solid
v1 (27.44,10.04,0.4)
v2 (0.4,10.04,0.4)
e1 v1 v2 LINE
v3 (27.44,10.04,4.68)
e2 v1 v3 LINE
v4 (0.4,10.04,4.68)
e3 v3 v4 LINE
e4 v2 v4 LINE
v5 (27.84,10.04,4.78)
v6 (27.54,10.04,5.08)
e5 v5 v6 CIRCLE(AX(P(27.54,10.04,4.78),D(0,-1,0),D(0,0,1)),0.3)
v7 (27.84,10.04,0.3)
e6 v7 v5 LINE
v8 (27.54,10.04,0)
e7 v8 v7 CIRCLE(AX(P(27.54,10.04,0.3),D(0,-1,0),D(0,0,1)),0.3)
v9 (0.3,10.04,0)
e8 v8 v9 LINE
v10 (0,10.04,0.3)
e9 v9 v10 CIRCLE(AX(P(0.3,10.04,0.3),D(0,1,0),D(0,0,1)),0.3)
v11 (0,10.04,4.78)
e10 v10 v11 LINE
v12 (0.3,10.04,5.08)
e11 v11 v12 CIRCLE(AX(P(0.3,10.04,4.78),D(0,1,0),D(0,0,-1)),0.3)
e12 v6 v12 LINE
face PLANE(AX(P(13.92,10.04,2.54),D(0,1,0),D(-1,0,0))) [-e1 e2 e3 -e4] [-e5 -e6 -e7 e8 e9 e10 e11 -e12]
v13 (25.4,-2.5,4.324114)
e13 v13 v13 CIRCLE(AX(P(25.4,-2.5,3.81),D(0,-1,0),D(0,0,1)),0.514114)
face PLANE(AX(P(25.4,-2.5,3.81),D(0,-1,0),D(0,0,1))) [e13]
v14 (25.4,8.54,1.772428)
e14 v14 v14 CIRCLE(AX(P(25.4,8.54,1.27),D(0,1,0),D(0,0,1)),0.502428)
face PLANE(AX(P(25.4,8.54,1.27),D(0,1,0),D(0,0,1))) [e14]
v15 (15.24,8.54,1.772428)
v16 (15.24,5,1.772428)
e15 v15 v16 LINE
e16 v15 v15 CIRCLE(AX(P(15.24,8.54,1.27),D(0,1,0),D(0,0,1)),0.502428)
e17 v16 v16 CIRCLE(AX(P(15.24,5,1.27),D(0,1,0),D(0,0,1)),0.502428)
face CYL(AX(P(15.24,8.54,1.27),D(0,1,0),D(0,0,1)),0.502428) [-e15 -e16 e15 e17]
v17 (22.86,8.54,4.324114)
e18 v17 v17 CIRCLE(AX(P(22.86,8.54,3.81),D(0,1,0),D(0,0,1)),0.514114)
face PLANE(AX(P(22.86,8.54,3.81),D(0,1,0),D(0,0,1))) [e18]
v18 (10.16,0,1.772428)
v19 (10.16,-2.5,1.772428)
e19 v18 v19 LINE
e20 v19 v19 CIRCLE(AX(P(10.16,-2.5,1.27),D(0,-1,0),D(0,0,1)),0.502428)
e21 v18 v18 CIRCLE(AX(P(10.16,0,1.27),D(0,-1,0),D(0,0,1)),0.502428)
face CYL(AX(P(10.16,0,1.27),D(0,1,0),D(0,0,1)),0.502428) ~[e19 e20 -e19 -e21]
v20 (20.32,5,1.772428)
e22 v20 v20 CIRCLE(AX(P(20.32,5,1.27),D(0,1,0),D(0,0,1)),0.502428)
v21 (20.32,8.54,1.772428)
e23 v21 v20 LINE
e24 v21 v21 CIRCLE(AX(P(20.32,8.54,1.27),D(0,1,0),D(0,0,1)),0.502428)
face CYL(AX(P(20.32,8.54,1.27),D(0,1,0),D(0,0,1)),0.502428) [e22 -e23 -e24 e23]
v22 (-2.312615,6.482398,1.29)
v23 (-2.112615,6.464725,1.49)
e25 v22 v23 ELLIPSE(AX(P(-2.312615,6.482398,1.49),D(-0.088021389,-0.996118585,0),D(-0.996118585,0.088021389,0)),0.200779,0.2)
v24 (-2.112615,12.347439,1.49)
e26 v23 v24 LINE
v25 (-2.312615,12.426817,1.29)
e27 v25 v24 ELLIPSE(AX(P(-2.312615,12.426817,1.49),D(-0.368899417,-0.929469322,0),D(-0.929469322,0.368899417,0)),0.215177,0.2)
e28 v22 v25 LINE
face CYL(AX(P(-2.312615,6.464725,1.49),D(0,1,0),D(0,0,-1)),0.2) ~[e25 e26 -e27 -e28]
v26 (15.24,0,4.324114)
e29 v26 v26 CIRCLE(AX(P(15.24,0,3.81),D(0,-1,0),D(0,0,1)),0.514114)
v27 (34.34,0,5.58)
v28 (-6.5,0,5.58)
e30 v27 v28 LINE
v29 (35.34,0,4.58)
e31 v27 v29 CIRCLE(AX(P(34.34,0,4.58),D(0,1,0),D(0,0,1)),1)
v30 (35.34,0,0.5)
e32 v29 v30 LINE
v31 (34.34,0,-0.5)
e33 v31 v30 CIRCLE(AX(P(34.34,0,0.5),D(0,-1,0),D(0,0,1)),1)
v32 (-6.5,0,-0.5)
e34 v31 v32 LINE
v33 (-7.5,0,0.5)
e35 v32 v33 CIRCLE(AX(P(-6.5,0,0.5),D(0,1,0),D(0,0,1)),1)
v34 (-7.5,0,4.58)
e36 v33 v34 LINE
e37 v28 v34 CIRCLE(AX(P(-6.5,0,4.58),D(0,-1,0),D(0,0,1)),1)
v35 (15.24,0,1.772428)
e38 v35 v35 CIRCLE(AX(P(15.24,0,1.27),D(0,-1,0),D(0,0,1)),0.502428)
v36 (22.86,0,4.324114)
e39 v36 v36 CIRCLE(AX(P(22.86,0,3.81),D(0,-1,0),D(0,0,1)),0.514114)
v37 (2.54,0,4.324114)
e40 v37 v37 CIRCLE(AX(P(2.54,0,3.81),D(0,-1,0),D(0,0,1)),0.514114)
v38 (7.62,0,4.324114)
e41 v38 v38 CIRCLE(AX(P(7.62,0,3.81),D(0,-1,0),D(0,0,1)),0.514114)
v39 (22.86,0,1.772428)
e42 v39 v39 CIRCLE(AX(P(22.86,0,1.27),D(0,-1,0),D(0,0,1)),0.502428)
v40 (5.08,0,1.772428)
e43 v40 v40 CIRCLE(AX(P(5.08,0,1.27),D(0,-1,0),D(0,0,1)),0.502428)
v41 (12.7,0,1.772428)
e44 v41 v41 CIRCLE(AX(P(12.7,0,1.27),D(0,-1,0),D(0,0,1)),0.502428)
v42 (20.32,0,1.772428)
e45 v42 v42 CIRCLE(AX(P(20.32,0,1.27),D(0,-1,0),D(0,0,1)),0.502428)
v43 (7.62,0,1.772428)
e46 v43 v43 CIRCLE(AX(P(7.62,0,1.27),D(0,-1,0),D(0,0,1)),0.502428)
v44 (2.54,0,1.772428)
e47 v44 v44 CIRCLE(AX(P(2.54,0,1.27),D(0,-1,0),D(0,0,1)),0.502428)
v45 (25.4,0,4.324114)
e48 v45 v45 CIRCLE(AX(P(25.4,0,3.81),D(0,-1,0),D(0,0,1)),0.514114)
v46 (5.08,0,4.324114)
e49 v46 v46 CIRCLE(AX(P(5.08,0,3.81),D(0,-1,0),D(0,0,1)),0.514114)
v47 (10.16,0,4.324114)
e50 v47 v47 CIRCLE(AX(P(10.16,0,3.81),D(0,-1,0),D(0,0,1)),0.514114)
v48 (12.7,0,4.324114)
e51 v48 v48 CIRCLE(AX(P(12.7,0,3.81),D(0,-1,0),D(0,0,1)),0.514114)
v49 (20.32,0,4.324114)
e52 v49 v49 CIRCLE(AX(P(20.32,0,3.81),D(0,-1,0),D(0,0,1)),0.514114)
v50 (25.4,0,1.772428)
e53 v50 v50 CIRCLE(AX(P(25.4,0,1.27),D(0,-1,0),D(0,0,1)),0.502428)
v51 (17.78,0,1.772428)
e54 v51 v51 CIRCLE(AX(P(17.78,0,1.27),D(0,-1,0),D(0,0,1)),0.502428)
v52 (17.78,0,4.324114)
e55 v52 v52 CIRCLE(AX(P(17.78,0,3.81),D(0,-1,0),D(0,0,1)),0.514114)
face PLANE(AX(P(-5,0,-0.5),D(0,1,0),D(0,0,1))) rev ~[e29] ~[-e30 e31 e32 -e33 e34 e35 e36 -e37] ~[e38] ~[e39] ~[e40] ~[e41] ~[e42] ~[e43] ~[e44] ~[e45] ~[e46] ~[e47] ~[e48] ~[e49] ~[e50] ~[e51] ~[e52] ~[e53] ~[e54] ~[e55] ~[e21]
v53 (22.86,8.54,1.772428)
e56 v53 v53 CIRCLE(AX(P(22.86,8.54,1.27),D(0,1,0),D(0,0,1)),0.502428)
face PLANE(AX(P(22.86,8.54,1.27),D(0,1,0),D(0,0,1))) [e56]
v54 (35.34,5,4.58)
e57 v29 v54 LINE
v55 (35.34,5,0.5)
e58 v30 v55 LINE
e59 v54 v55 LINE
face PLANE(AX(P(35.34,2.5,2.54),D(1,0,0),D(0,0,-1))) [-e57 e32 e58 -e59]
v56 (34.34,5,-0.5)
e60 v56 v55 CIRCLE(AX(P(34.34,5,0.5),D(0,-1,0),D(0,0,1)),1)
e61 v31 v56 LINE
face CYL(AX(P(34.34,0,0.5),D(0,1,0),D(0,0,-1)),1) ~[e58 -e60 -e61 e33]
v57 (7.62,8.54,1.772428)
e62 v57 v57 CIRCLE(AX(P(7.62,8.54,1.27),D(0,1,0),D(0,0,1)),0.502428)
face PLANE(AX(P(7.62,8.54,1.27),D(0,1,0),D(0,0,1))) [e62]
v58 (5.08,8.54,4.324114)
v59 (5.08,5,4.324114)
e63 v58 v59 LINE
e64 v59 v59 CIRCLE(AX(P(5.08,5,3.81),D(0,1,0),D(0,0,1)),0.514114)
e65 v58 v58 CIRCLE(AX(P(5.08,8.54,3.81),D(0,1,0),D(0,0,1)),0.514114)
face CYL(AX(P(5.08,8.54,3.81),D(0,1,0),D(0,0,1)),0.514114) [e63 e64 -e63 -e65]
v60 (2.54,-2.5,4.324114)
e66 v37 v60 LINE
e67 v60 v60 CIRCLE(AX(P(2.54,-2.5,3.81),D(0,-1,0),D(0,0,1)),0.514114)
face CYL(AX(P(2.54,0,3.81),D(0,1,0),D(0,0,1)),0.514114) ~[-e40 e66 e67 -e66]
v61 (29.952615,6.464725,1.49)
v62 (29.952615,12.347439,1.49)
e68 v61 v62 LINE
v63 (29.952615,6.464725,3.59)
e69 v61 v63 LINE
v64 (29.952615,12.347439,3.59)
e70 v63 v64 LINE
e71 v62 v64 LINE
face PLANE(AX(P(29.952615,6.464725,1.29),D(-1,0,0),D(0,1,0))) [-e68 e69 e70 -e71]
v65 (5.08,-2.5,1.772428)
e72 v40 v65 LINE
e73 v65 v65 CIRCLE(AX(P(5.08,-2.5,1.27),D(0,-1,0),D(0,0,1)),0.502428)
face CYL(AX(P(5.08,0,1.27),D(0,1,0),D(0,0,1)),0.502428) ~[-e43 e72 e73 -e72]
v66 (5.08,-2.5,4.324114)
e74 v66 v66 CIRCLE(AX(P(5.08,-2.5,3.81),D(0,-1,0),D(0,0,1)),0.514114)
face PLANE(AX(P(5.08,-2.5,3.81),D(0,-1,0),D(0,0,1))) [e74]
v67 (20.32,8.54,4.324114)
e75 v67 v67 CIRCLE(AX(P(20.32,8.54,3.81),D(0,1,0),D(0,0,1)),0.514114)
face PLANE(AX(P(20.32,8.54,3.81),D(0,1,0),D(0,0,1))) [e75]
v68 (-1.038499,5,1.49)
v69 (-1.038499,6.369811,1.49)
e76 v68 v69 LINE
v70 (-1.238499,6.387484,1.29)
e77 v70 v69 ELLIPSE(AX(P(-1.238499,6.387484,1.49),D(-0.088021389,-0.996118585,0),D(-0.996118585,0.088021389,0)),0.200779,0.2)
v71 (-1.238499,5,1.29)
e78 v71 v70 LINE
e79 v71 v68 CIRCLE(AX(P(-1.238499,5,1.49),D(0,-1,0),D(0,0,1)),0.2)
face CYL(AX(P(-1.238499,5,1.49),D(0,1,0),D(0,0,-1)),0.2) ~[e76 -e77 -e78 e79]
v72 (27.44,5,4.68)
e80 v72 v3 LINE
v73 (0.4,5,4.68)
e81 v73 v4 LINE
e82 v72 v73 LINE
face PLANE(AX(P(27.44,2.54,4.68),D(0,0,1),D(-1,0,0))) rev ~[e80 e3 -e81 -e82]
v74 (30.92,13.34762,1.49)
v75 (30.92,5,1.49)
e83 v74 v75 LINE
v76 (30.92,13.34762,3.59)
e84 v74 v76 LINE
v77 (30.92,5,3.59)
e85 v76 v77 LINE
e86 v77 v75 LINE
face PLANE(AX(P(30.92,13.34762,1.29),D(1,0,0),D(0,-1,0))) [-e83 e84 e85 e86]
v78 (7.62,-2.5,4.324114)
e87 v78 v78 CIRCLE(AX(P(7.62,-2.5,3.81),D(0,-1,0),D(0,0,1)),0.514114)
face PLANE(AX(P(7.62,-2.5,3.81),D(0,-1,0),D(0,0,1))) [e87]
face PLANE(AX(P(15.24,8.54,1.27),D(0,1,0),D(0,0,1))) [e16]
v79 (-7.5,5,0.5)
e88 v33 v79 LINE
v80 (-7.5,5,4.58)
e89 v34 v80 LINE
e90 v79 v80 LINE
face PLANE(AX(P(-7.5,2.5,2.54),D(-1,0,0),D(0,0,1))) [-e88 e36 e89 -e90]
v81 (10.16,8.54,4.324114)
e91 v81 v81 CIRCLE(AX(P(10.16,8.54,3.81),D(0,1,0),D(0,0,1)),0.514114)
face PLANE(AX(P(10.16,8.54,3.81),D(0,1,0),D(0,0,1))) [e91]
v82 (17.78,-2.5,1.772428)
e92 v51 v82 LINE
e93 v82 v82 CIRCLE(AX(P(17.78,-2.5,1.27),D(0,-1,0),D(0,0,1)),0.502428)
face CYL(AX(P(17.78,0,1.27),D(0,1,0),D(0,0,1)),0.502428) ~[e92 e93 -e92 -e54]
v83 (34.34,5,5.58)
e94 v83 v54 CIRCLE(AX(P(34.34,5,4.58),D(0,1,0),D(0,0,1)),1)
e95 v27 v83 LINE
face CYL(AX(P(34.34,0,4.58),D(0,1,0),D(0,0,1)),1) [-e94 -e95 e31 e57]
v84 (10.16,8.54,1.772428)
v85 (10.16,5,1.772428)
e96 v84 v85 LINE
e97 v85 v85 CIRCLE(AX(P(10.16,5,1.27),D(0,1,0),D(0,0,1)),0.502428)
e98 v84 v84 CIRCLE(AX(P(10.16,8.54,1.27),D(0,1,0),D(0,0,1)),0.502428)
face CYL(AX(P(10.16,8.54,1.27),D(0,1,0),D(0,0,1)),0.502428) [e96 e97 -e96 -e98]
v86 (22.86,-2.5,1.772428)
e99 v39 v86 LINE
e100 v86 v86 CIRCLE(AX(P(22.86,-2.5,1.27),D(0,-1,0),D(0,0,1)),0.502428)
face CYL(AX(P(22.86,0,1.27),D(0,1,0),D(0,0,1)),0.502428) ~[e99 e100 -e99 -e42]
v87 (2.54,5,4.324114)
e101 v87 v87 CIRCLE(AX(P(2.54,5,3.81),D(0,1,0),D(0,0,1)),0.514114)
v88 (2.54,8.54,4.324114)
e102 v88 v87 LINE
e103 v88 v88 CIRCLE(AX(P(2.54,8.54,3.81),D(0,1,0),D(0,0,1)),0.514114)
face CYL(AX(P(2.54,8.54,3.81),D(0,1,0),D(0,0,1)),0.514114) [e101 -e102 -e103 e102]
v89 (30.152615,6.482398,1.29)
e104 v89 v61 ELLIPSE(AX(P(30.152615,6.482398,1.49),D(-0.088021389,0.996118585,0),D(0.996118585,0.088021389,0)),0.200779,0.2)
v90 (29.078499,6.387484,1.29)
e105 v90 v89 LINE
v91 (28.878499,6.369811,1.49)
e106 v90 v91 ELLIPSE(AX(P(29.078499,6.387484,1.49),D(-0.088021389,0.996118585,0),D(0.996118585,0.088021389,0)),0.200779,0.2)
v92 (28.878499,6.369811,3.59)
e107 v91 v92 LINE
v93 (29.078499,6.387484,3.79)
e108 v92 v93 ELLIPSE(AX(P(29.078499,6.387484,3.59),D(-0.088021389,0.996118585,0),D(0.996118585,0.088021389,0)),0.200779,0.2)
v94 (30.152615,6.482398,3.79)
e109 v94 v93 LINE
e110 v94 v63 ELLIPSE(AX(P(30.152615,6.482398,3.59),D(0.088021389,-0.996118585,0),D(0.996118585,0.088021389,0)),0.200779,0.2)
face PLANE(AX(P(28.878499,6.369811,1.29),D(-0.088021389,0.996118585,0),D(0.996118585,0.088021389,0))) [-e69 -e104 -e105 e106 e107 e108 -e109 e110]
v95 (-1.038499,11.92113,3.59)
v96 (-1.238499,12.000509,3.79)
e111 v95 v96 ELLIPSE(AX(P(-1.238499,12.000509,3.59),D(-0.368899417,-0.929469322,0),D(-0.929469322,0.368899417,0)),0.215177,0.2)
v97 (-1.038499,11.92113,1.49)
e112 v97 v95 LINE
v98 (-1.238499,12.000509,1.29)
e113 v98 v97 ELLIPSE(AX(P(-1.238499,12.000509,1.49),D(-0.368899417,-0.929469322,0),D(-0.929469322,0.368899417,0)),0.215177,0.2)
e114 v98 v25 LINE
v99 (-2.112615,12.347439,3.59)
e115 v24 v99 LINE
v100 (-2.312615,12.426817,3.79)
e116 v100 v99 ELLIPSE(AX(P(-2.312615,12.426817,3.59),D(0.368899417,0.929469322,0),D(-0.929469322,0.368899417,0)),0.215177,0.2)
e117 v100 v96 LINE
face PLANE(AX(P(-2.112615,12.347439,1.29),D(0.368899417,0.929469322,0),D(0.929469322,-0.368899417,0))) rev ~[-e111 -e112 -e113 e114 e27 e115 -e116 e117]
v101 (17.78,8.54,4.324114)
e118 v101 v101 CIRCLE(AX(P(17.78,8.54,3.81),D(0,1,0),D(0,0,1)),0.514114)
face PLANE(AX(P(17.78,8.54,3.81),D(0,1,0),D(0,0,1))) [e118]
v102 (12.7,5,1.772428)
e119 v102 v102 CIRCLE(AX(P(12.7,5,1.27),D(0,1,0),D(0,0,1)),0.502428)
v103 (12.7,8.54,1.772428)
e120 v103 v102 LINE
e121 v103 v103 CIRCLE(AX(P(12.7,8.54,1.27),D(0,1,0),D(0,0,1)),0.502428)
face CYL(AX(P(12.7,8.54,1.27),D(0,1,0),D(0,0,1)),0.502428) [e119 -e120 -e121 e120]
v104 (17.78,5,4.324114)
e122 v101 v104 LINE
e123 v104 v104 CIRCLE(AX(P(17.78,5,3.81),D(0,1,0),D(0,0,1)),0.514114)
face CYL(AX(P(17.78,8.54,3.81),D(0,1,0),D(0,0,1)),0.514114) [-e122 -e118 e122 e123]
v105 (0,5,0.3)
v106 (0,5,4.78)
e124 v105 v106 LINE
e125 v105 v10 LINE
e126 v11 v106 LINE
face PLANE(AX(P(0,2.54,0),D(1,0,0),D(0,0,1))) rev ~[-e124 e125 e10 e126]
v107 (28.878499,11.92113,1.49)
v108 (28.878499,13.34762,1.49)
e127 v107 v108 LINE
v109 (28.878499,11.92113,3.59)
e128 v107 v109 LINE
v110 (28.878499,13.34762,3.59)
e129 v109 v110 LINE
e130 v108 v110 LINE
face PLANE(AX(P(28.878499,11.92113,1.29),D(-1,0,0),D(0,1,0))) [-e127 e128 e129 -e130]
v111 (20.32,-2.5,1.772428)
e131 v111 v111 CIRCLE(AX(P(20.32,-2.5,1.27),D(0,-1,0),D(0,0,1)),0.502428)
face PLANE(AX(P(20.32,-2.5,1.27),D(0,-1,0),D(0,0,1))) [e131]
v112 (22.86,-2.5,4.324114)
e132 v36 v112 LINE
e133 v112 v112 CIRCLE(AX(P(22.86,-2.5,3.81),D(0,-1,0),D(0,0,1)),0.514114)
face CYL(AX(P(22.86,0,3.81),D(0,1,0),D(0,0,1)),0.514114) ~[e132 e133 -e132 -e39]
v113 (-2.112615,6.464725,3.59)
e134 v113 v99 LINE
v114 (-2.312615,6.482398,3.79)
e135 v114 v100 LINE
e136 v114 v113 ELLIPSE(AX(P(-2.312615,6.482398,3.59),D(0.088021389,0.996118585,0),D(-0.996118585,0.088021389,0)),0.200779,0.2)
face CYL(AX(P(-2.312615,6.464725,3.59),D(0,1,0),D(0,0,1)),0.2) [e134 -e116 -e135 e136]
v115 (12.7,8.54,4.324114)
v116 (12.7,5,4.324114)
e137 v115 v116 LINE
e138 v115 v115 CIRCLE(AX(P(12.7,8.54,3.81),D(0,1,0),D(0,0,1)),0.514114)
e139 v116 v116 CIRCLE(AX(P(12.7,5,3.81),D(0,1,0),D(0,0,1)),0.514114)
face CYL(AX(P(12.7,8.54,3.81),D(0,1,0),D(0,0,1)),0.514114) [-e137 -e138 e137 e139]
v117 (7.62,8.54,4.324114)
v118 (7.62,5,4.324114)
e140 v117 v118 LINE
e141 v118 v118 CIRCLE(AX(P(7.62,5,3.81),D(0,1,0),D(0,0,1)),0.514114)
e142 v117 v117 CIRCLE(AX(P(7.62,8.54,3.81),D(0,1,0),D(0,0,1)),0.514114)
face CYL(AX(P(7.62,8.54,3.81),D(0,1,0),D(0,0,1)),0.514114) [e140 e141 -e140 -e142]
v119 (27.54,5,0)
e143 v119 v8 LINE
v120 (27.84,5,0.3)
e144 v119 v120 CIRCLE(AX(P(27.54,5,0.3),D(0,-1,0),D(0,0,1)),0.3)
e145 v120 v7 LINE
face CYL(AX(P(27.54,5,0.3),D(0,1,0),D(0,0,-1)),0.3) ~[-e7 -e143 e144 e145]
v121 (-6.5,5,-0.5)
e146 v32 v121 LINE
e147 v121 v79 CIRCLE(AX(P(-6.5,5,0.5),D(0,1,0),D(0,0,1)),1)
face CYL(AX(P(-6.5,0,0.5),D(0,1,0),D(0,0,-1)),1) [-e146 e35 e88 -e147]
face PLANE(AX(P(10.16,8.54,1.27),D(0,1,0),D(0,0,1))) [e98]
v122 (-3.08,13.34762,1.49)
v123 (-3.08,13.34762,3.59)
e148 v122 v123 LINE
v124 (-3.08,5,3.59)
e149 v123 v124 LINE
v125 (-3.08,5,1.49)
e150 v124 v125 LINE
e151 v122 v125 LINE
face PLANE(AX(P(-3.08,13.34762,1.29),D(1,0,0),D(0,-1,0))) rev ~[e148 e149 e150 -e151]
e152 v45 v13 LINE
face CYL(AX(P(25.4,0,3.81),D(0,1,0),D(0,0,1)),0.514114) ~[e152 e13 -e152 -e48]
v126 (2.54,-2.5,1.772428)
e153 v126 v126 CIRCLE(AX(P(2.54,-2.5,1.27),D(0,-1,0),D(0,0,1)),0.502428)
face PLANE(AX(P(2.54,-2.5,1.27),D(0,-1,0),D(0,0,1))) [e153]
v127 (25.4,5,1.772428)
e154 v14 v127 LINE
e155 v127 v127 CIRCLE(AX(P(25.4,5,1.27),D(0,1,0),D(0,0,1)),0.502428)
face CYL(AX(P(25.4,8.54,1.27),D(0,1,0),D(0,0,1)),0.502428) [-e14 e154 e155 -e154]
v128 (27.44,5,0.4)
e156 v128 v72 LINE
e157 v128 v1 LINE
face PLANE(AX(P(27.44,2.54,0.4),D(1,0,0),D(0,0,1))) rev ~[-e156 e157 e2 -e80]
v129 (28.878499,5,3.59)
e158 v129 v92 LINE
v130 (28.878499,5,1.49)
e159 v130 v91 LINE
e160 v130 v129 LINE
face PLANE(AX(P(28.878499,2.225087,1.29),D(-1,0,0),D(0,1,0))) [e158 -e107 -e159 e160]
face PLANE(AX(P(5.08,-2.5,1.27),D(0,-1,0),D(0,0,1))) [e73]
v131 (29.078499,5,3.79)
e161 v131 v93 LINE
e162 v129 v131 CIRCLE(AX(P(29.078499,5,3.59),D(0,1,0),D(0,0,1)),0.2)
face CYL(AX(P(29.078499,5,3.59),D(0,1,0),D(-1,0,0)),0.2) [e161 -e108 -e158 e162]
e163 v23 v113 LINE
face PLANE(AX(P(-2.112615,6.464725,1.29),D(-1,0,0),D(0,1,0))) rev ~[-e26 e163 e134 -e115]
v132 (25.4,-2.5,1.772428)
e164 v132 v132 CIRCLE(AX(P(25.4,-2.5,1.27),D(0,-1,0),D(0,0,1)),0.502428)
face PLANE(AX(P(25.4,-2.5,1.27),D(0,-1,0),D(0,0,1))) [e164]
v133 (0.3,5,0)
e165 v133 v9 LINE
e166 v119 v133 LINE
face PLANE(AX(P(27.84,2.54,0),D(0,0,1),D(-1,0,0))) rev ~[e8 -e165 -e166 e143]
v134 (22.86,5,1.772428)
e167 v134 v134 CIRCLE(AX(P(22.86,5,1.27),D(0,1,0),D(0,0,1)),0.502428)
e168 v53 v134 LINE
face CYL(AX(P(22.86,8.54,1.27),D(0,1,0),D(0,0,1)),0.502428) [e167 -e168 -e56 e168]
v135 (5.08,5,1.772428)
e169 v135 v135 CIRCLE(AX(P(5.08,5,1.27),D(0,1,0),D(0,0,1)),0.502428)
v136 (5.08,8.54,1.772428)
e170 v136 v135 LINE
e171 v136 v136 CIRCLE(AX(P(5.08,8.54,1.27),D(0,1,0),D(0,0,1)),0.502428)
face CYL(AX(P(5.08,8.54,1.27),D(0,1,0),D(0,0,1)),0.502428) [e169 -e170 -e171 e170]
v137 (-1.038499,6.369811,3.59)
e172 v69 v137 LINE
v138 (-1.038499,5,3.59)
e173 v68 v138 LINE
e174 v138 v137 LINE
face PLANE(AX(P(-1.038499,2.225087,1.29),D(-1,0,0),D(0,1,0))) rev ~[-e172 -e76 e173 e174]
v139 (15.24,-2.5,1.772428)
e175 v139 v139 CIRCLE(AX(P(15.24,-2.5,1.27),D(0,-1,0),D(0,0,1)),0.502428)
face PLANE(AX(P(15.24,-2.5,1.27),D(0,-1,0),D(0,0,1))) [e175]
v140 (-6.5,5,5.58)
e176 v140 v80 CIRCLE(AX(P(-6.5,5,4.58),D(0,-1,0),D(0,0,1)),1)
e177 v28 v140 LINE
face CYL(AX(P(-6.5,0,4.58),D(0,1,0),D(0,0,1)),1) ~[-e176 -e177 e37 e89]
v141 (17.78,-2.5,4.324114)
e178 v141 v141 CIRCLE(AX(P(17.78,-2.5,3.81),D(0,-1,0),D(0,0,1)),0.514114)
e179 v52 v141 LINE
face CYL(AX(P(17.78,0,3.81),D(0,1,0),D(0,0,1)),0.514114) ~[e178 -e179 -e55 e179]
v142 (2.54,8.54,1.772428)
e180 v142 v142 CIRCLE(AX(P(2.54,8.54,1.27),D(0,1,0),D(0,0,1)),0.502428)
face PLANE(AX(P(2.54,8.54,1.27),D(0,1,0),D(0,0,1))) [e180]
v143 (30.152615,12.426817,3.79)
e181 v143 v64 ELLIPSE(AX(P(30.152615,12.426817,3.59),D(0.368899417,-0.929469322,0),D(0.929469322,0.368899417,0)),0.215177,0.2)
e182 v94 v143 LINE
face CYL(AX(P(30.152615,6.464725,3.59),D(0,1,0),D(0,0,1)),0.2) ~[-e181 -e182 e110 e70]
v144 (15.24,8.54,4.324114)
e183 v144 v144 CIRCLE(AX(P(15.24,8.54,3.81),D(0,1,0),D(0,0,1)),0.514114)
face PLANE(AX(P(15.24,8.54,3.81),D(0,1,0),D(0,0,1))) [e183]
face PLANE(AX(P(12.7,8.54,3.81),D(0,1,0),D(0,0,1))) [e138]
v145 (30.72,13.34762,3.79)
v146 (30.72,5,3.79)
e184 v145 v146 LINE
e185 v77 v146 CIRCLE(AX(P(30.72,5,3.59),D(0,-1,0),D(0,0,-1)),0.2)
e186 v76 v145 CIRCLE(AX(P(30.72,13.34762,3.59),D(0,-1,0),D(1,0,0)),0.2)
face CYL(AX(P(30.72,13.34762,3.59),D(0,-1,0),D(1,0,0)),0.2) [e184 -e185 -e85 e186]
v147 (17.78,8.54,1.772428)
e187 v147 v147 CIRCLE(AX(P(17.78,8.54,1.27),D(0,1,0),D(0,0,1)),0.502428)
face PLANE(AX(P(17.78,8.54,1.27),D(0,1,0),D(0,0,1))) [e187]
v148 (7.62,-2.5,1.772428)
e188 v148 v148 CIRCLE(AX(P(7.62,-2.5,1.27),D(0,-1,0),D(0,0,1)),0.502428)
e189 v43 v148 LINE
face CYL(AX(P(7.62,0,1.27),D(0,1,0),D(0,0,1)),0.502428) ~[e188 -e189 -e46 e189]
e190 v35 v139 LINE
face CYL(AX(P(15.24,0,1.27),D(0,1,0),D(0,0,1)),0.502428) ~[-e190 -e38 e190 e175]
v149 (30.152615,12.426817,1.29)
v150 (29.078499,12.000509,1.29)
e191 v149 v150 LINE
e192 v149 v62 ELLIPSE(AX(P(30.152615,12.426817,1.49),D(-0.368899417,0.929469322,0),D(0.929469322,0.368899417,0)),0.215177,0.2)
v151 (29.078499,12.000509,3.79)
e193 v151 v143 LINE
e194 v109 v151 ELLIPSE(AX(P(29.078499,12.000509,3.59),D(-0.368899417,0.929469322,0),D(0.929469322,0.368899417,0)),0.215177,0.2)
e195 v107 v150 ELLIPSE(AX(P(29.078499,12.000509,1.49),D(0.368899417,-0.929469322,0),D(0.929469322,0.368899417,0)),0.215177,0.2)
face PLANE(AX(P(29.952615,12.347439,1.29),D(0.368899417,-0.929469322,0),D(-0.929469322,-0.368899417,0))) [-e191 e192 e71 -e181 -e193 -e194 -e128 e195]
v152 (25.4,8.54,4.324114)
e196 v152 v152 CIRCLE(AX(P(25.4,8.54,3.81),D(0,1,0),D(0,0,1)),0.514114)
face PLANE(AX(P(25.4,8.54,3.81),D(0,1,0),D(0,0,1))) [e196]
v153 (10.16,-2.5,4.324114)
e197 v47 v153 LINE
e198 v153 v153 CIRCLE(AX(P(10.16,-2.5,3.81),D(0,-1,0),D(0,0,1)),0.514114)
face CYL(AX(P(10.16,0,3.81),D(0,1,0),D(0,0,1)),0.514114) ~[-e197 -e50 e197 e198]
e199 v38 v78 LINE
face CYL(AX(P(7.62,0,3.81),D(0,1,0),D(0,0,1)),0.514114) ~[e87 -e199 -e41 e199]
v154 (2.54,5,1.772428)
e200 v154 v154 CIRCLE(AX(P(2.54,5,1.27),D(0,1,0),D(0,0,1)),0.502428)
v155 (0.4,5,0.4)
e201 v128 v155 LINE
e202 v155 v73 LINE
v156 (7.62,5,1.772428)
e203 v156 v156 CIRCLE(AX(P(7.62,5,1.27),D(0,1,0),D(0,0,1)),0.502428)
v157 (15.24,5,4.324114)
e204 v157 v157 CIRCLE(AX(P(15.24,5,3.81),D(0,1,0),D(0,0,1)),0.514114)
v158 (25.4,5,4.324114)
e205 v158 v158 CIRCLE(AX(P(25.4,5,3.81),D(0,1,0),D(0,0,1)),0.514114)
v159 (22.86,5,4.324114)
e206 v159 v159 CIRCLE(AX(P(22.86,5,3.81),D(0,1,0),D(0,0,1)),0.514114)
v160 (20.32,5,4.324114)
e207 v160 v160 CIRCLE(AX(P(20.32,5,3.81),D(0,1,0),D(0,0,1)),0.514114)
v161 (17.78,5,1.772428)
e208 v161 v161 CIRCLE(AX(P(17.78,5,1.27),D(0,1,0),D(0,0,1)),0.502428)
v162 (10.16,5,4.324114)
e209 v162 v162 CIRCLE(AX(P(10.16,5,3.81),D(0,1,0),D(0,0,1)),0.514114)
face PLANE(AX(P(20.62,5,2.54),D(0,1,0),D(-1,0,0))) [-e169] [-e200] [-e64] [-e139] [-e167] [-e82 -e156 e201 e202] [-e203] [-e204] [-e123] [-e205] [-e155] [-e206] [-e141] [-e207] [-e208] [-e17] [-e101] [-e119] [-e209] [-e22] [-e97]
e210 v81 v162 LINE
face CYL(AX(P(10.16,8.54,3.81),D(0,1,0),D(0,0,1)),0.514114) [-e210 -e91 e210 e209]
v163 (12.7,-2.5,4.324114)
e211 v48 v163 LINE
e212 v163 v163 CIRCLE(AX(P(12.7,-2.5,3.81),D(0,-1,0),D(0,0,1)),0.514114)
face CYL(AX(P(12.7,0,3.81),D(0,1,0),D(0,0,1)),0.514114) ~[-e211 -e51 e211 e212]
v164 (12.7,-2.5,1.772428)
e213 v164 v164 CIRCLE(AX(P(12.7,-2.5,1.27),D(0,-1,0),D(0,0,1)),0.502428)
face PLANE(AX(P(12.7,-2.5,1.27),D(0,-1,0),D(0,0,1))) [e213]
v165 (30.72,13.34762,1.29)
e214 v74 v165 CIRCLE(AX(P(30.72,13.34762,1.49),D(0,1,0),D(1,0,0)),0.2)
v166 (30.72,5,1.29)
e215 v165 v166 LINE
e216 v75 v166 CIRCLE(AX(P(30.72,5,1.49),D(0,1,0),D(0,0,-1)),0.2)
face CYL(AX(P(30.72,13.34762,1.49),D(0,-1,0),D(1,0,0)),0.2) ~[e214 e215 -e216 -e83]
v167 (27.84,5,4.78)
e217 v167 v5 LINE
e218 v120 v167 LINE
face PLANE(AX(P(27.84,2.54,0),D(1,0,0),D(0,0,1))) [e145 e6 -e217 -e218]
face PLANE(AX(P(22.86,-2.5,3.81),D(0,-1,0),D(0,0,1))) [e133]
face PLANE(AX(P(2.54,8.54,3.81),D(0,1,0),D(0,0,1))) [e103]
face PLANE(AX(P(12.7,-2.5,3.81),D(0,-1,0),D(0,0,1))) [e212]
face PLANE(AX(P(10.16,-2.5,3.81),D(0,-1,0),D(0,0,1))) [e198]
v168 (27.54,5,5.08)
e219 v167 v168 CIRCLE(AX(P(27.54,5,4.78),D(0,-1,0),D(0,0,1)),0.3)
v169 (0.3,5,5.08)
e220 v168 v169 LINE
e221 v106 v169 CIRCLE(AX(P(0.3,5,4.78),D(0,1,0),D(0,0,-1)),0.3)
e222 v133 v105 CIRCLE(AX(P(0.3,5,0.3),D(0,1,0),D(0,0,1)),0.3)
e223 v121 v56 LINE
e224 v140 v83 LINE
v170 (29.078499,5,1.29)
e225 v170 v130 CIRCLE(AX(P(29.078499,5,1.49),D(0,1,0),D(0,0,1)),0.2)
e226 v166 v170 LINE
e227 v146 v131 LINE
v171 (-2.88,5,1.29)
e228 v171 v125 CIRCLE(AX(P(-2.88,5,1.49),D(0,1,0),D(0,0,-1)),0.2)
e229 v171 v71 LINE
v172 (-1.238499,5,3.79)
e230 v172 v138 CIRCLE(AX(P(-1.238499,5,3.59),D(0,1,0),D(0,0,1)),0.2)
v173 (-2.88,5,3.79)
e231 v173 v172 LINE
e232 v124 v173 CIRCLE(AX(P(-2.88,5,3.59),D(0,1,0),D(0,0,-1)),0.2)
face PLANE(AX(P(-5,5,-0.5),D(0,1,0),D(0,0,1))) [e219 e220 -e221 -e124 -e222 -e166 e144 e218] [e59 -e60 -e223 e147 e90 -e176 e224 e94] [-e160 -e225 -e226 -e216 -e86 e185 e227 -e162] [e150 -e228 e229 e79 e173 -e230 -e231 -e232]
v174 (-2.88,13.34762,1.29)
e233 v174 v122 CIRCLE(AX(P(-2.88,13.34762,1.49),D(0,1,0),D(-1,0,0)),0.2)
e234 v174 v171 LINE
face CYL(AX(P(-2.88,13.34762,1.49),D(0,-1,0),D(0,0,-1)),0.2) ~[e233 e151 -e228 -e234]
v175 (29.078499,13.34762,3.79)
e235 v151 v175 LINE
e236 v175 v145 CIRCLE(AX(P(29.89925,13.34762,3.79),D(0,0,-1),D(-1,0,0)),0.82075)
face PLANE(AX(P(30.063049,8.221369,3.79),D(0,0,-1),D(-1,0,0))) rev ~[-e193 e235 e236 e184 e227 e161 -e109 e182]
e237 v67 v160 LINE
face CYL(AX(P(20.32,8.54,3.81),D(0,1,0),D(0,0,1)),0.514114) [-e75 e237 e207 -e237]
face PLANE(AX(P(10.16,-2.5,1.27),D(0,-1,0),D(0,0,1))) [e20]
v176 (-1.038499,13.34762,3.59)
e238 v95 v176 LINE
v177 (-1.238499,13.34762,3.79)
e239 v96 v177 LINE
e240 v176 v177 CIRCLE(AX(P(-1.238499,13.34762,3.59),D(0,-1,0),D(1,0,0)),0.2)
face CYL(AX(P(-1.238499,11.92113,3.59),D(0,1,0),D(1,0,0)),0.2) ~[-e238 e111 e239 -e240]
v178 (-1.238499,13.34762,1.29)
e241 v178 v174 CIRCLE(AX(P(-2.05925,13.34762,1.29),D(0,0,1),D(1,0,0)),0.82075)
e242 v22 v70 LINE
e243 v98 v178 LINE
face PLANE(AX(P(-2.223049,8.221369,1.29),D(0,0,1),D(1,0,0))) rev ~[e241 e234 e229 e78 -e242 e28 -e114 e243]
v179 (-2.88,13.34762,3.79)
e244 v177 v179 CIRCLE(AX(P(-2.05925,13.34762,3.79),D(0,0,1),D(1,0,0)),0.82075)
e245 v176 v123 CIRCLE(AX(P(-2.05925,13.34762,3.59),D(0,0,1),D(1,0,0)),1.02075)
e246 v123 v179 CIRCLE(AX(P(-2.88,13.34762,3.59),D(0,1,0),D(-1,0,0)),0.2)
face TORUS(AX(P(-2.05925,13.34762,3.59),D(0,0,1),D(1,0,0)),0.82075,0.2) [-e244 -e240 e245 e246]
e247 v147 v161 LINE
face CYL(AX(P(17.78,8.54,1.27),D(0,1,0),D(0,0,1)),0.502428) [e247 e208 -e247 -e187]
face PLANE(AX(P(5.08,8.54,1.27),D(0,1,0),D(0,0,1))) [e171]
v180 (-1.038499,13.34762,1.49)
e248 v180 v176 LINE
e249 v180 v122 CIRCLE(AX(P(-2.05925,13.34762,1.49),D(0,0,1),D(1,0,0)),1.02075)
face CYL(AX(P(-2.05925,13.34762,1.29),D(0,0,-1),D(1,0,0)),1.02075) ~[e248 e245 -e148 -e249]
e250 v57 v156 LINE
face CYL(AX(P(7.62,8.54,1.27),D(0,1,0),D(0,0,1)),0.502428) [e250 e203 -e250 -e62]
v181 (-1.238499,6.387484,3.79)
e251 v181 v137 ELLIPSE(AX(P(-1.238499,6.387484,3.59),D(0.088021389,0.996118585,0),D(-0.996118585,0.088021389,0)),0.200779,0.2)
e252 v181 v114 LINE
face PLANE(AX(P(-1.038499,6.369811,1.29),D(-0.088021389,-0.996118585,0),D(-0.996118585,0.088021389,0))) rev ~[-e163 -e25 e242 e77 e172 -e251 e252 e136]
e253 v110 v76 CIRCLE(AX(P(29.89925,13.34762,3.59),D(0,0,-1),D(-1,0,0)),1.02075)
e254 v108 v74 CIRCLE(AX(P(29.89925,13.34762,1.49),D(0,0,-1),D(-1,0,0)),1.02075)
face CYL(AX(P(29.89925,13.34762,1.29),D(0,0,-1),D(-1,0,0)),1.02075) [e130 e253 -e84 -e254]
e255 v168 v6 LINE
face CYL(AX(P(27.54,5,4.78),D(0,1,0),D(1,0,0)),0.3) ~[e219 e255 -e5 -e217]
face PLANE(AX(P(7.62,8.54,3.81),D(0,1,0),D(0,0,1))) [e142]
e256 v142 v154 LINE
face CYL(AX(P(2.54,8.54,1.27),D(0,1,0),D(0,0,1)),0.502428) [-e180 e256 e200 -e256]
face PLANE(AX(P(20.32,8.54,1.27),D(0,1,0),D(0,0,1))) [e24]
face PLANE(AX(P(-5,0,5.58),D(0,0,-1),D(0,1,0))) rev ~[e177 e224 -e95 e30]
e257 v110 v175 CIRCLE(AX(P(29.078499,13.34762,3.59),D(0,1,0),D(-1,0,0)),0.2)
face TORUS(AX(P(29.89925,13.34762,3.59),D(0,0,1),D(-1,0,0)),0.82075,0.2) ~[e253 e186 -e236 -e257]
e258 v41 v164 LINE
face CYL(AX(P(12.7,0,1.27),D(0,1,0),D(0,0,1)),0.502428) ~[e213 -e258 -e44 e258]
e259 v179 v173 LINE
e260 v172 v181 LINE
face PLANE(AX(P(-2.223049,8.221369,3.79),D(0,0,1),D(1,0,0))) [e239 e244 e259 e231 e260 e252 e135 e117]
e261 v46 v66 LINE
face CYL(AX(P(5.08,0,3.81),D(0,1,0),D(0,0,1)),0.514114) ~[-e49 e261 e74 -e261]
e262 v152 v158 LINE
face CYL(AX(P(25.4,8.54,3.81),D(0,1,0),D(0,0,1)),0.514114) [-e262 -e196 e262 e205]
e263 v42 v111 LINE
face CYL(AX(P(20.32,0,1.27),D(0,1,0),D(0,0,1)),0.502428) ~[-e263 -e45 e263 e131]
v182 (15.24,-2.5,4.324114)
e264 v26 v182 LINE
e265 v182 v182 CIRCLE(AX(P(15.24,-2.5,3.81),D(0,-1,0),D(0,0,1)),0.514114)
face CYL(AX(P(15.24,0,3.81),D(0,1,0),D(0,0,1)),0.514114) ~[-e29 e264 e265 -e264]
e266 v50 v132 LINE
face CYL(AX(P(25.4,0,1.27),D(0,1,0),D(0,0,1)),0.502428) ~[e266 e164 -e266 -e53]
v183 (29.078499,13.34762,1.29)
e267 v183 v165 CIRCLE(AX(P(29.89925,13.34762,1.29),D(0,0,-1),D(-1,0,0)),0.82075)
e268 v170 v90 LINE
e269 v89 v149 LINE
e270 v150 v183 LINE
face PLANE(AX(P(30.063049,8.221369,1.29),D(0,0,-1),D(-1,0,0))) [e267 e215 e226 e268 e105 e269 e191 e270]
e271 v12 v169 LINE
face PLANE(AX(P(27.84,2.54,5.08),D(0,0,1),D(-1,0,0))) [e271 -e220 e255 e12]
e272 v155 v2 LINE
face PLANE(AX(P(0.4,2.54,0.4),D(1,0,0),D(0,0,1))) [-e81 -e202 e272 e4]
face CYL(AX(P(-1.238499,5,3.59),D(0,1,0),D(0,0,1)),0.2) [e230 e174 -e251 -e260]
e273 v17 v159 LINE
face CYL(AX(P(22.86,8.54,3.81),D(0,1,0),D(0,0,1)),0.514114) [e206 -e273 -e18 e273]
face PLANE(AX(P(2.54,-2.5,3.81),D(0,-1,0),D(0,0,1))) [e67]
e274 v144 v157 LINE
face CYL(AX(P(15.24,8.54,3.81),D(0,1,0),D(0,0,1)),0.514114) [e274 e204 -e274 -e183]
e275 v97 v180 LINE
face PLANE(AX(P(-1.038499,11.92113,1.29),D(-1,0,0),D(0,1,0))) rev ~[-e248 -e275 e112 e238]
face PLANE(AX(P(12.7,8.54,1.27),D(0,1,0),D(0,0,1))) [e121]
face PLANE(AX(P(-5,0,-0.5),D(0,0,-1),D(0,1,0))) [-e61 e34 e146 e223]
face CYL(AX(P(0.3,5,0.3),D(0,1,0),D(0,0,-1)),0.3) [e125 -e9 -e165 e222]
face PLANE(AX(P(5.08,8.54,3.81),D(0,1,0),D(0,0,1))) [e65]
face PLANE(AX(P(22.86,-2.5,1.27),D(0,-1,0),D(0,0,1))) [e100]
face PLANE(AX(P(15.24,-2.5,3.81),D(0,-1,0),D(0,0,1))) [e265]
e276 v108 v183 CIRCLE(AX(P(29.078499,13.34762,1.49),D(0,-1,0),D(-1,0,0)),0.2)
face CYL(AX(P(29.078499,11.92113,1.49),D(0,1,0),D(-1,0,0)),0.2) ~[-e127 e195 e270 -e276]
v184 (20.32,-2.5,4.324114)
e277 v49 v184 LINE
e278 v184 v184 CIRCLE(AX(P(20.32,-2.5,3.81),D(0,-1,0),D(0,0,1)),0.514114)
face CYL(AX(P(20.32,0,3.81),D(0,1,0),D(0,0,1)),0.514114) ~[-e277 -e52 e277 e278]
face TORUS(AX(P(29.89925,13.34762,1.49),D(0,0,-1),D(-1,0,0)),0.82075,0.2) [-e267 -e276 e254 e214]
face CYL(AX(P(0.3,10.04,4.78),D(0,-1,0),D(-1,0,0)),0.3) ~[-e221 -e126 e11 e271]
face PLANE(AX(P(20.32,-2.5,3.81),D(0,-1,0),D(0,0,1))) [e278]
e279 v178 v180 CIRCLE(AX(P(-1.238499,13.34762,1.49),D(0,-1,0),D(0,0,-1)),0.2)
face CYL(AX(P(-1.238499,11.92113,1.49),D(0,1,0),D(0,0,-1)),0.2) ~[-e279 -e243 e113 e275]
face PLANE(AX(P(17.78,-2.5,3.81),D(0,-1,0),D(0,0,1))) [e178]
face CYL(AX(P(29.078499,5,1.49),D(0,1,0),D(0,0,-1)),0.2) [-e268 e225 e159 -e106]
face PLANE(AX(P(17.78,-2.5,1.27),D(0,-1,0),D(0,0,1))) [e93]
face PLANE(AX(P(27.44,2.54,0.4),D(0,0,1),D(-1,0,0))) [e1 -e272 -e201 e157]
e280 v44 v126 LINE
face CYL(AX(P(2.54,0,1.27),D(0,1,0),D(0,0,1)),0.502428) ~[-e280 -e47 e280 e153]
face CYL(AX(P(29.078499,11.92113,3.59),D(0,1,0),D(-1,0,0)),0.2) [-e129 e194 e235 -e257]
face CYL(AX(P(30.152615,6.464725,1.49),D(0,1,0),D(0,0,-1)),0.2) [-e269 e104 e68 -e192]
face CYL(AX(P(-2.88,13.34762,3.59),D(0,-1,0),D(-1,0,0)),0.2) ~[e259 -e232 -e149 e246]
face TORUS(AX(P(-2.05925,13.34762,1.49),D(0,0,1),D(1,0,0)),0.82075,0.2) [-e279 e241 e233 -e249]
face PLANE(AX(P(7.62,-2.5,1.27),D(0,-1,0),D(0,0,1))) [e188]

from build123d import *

# Parameters (mm, degrees)
SKETCH_2_W             = 38.1
SKETCH_2_H             = 1
EXTRUDE_1_DEPTH        = 5.08
SKETCH_3_R             = 0.514113779
SKETCH_3_R_2           = 0.502427848
EXTRUDE_2_DEPTH        = 2.5
PATTERN_LINEAR_1_COUNT = 10
PATTERN_LINEAR_1_PITCH = 2.54
SKETCH_4_W             = 44.198683318
SKETCH_4_H             = 8.471214157
CUT_EXTRUDE_1_DEPTH    = 5.08
EXTRUDE_START          = 6
SKETCH_5_R             = 0.502427848
SKETCH_5_R_2           = 0.514113779
EXTRUDE_3_DEPTH        = 6
SKETCH_6_W             = 51.24
SKETCH_6_H             = 6.08
EXTRUDE_4_DEPTH        = 2.4
SKETCH_7_W             = 27.84
SKETCH_7_H             = 5.08
SKETCH_7_W_2           = 27.04
SKETCH_7_H_2           = 4.28
EXTRUDE_6_DEPTH        = 7.5
SKETCH_8_W             = 51.24
SKETCH_8_H             = 6.08
EXTRUDE_7_DEPTH        = 2.6
EXTRUDE_8_DEPTH        = 1.25
EXTRUDE_8_DEPTH_BACK   = 1.25
FILLET_1_R             = 0.3
FILLET_2_R             = 0.2
SKETCH_10_W            = 6.08
SKETCH_10_H            = 5
CUT_EXTRUDE_2_DEPTH    = 13.4
SKETCH_11_W            = 6.08
SKETCH_11_H            = 5
EXTRUDE_9_DEPTH        = 2.5
SKETCH_12_W            = 6.08
SKETCH_12_H            = 5
EXTRUDE_10_DEPTH       = 2.5
FILLET_3_R             = 1


with BuildPart() as part:
    # Эскиз2 → Вытянуть1 (new body)
    with BuildSketch(Plane.XY):
        Polygon((0, 0), (41.24, 0), (41.24, 2.54), (40.94, 2.54), (40.94, 3.34), (41.24, 3.34), (41.24, 7.62), (0, 7.62), (0, 3.34), (0.3, 3.34), (0.3, 2.54), (0, 2.54), align=None)
        with Locations((20.62, 5.5)):
            Rectangle(SKETCH_2_W, SKETCH_2_H, mode=Mode.SUBTRACT)
    extrude(amount=EXTRUDE_1_DEPTH)

    # Эскиз3 → Вытянуть2 (add)
    with BuildSketch(Plane.XZ):
        with Locations(Location((2.54, 3.81, 0), (0, 0, 90))):
            Circle(SKETCH_3_R)
        with Locations(Location((2.54, 1.27, 0), (0, 0, 90))):
            Circle(SKETCH_3_R_2)
    extrude_2 = extrude(amount=EXTRUDE_2_DEPTH)

    # Линейный массив1: Вытянуть2 ×10
    with Locations(*[(i * PATTERN_LINEAR_1_PITCH, 0, 0) for i in range(1, PATTERN_LINEAR_1_COUNT)]):
        add(extrude_2)

    # Эскиз4 → Вырез-Вытянуть1 (cut)
    with BuildSketch(Plane(origin=(0, 7.62, 0), x_dir=(-1, 0, 0), z_dir=(0, 1, 0))):
        with Locations((-20.961321946, 2.444099463)):
            Rectangle(SKETCH_4_W, SKETCH_4_H)
    extrude(amount=-CUT_EXTRUDE_1_DEPTH, mode=Mode.SUBTRACT)

    # Эскиз5 → Вытянуть3 (add)
    with BuildSketch(Plane(origin=(0, 2.54, 0), x_dir=(-1, 0, 0), z_dir=(0, 1, 0)).offset(EXTRUDE_START)):
        with Locations(Location((-15.24, 1.27, 0), (0, 0, 90))):
            Circle(SKETCH_5_R)
        with Locations(Location((-15.24, 3.81, 0), (0, 0, 90))):
            Circle(SKETCH_5_R_2)
        with Locations(Location((-17.78, 1.27, 0), (0, 0, 90))):
            Circle(SKETCH_5_R)
        with Locations(Location((-17.78, 3.81, 0), (0, 0, 90))):
            Circle(SKETCH_5_R_2)
        with Locations(Location((-20.32, 1.27, 0), (0, 0, 90))):
            Circle(SKETCH_5_R)
        with Locations(Location((-20.32, 3.81, 0), (0, 0, 90))):
            Circle(SKETCH_5_R_2)
        with Locations(Location((-22.86, 1.27, 0), (0, 0, 90))):
            Circle(SKETCH_5_R)
        with Locations(Location((-12.7, 3.81, 0), (0, 0, 90))):
            Circle(SKETCH_5_R_2)
        with Locations(Location((-10.16, 3.81, 0), (0, 0, 90))):
            Circle(SKETCH_5_R_2)
        with Locations(Location((-7.62, 3.81, 0), (0, 0, 90))):
            Circle(SKETCH_5_R_2)
        with Locations(Location((-5.08, 3.81, 0), (0, 0, 90))):
            Circle(SKETCH_5_R_2)
        with Locations(Location((-2.54, 3.81, 0), (0, 0, 90))):
            Circle(SKETCH_5_R_2)
        with Locations(Location((-2.54, 1.27, 0), (0, 0, 90))):
            Circle(SKETCH_5_R)
        with Locations(Location((-5.08, 1.27, 0), (0, 0, 90))):
            Circle(SKETCH_5_R)
        with Locations(Location((-7.62, 1.27, 0), (0, 0, 90))):
            Circle(SKETCH_5_R)
        with Locations(Location((-10.16, 1.27, 0), (0, 0, 90))):
            Circle(SKETCH_5_R)
        with Locations(Location((-12.7, 1.27, 0), (0, 0, 90))):
            Circle(SKETCH_5_R)
        with Locations(Location((-22.86, 3.81, 0), (0, 0, 90))):
            Circle(SKETCH_5_R_2)
        with Locations(Location((-25.4, 1.27, 0), (0, 0, 90))):
            Circle(SKETCH_5_R)
        with Locations(Location((-25.4, 3.81, 0), (0, 0, 90))):
            Circle(SKETCH_5_R_2)
    extrude(amount=-EXTRUDE_3_DEPTH)

    # Эскиз6 → Вытянуть4 (add)
    with BuildSketch(Plane.XZ):
        with Locations((20.62, 2.54)):
            Rectangle(SKETCH_6_W, SKETCH_6_H)
    extrude(amount=-EXTRUDE_4_DEPTH)

    # Эскиз7 → Вытянуть6 (add)
    with BuildSketch(Plane(origin=(0, 2.54, 0), x_dir=(-1, 0, 0), z_dir=(0, 1, 0))):
        with Locations((-13.92, 2.54)):
            Rectangle(SKETCH_7_W, SKETCH_7_H)
        with Locations((-13.92, 2.54)):
            Rectangle(SKETCH_7_W_2, SKETCH_7_H_2, mode=Mode.SUBTRACT)
    extrude(amount=EXTRUDE_6_DEPTH)

    # Эскиз8 → Вытянуть7 (add)
    with BuildSketch(Plane(origin=(0, 2.4, 0), x_dir=(-1, 0, 0), z_dir=(0, 1, 0))):
        with Locations((-20.62, 2.54)):
            Rectangle(SKETCH_8_W, SKETCH_8_H)
    extrude(amount=EXTRUDE_7_DEPTH)

    # Эскиз9 → Вытянуть8 (add, two sides: drawn at the far end of the back side and taken through both)
    with BuildSketch(Plane.XY.offset(2.54).offset(-EXTRUDE_8_DEPTH_BACK)):
        with BuildLine():
            Line((-3.08, 2.225086662), (-1.038499325, 2.225086662))
            Line((-1.038499325, 2.225086662), (-1.038499325, 6.369811339))
            Line((-1.038499325, 6.369811339), (-2.112614583, 6.464724855))
            Line((-2.112614583, 6.464724855), (-2.112614583, 12.347438775))
            Line((-2.112614583, 12.347438775), (-1.038499325, 11.921130469))
            Line((-1.038499325, 11.921130469), (-1.038499325, 13.347619973))
            ThreePointArc((-1.038499325, 13.347619973), (-2.059249663, 14.368370311), (-3.08, 13.347619973))
            Line((-3.08, 13.347619973), (-3.08, 2.225086662))
        make_face()
        with BuildLine():
            Line((28.878499325, 11.921130469), (28.878499325, 13.347619973))
            ThreePointArc((28.878499325, 13.347619973), (29.899249663, 14.368370311), (30.92, 13.347619973))
            Line((30.92, 13.347619973), (30.92, 2.225086662))
            Line((30.92, 2.225086662), (28.878499325, 2.225086662))
            Line((28.878499325, 2.225086662), (28.878499325, 6.369811339))
            Line((28.878499325, 6.369811339), (29.952614583, 6.464724855))
            Line((29.952614583, 6.464724855), (29.952614583, 12.347438775))
            Line((29.952614583, 12.347438775), (28.878499325, 11.921130469))
        make_face()
    extrude(amount=EXTRUDE_8_DEPTH + EXTRUDE_8_DEPTH_BACK)

    # Скругление1
    fillet_1_edges = [part.edges().sort_by_distance(p)[0] for p in [
        (0, 7.52, 0),
        (27.84, 7.52, 5.08),
        (27.84, 7.52, 0),
        (0, 7.52, 5.08),
    ]]
    fillet(fillet_1_edges, radius=FILLET_1_R)

    # Скругление2
    fillet_2_edges = [part.edges().sort_by_distance(p)[0] for p in [
        (-3.08, 9.173809987, 1.29),
        (-1.038499325, 5.684905669, 1.29),
        (-3.08, 9.173809987, 3.79),
        (-1.038499325, 5.684905669, 3.79),
        (-2.112614583, 9.406081815, 3.79),
        (-1.038499325, 12.634375221, 3.79),
        (-2.059249663, 14.368370311, 3.79),
        (-2.112614583, 9.406081815, 1.29),
        (-1.038499325, 12.634375221, 1.29),
        (-2.059249663, 14.368370311, 1.29),
        (28.878499325, 5.684905669, 1.29),
        (30.92, 9.173809987, 1.29),
        (30.92, 9.173809987, 3.79),
        (29.899249663, 14.368370311, 3.79),
        (28.878499325, 12.634375221, 3.79),
        (29.952614583, 9.406081815, 3.79),
        (28.878499325, 5.684905669, 3.79),
        (29.899249663, 14.368370311, 1.29),
        (28.878499325, 12.634375221, 1.29),
        (29.952614583, 9.406081815, 1.29),
    ]]
    fillet(fillet_2_edges, radius=FILLET_2_R)

    # Эскиз10 → Вырез-Вытянуть2 (cut)
    with BuildSketch(Plane(origin=(46.24, 0, 0), x_dir=(0, 0, -1), z_dir=(1, 0, 0))):
        with Locations((-2.54, 2.5)):
            Rectangle(SKETCH_10_W, SKETCH_10_H)
    extrude(amount=-CUT_EXTRUDE_2_DEPTH, mode=Mode.SUBTRACT)

    # Эскиз11 → Вытянуть9 (add)
    with BuildSketch(Plane(origin=(32.84, 0, 0), x_dir=(0, 0, -1), z_dir=(1, 0, 0))):
        with Locations((-2.54, 2.5)):
            Rectangle(SKETCH_11_W, SKETCH_11_H)
    extrude(amount=EXTRUDE_9_DEPTH)

    # Эскиз12 → Вытянуть10 (add)
    with BuildSketch(Plane.ZY.offset(5)):
        with Locations((2.54, 2.5)):
            Rectangle(SKETCH_12_W, SKETCH_12_H)
    extrude(amount=EXTRUDE_10_DEPTH)

    # Скругление3
    fillet_3_edges = [part.edges().sort_by_distance(p)[0] for p in [
        (35.34, 2.5, 5.58),
        (35.34, 2.5, -0.5),
        (-7.5, 2.5, -0.5),
        (-7.5, 2.5, 5.58),
    ]]
    fillet(fillet_3_edges, radius=FILLET_3_R)


solid = part.part
